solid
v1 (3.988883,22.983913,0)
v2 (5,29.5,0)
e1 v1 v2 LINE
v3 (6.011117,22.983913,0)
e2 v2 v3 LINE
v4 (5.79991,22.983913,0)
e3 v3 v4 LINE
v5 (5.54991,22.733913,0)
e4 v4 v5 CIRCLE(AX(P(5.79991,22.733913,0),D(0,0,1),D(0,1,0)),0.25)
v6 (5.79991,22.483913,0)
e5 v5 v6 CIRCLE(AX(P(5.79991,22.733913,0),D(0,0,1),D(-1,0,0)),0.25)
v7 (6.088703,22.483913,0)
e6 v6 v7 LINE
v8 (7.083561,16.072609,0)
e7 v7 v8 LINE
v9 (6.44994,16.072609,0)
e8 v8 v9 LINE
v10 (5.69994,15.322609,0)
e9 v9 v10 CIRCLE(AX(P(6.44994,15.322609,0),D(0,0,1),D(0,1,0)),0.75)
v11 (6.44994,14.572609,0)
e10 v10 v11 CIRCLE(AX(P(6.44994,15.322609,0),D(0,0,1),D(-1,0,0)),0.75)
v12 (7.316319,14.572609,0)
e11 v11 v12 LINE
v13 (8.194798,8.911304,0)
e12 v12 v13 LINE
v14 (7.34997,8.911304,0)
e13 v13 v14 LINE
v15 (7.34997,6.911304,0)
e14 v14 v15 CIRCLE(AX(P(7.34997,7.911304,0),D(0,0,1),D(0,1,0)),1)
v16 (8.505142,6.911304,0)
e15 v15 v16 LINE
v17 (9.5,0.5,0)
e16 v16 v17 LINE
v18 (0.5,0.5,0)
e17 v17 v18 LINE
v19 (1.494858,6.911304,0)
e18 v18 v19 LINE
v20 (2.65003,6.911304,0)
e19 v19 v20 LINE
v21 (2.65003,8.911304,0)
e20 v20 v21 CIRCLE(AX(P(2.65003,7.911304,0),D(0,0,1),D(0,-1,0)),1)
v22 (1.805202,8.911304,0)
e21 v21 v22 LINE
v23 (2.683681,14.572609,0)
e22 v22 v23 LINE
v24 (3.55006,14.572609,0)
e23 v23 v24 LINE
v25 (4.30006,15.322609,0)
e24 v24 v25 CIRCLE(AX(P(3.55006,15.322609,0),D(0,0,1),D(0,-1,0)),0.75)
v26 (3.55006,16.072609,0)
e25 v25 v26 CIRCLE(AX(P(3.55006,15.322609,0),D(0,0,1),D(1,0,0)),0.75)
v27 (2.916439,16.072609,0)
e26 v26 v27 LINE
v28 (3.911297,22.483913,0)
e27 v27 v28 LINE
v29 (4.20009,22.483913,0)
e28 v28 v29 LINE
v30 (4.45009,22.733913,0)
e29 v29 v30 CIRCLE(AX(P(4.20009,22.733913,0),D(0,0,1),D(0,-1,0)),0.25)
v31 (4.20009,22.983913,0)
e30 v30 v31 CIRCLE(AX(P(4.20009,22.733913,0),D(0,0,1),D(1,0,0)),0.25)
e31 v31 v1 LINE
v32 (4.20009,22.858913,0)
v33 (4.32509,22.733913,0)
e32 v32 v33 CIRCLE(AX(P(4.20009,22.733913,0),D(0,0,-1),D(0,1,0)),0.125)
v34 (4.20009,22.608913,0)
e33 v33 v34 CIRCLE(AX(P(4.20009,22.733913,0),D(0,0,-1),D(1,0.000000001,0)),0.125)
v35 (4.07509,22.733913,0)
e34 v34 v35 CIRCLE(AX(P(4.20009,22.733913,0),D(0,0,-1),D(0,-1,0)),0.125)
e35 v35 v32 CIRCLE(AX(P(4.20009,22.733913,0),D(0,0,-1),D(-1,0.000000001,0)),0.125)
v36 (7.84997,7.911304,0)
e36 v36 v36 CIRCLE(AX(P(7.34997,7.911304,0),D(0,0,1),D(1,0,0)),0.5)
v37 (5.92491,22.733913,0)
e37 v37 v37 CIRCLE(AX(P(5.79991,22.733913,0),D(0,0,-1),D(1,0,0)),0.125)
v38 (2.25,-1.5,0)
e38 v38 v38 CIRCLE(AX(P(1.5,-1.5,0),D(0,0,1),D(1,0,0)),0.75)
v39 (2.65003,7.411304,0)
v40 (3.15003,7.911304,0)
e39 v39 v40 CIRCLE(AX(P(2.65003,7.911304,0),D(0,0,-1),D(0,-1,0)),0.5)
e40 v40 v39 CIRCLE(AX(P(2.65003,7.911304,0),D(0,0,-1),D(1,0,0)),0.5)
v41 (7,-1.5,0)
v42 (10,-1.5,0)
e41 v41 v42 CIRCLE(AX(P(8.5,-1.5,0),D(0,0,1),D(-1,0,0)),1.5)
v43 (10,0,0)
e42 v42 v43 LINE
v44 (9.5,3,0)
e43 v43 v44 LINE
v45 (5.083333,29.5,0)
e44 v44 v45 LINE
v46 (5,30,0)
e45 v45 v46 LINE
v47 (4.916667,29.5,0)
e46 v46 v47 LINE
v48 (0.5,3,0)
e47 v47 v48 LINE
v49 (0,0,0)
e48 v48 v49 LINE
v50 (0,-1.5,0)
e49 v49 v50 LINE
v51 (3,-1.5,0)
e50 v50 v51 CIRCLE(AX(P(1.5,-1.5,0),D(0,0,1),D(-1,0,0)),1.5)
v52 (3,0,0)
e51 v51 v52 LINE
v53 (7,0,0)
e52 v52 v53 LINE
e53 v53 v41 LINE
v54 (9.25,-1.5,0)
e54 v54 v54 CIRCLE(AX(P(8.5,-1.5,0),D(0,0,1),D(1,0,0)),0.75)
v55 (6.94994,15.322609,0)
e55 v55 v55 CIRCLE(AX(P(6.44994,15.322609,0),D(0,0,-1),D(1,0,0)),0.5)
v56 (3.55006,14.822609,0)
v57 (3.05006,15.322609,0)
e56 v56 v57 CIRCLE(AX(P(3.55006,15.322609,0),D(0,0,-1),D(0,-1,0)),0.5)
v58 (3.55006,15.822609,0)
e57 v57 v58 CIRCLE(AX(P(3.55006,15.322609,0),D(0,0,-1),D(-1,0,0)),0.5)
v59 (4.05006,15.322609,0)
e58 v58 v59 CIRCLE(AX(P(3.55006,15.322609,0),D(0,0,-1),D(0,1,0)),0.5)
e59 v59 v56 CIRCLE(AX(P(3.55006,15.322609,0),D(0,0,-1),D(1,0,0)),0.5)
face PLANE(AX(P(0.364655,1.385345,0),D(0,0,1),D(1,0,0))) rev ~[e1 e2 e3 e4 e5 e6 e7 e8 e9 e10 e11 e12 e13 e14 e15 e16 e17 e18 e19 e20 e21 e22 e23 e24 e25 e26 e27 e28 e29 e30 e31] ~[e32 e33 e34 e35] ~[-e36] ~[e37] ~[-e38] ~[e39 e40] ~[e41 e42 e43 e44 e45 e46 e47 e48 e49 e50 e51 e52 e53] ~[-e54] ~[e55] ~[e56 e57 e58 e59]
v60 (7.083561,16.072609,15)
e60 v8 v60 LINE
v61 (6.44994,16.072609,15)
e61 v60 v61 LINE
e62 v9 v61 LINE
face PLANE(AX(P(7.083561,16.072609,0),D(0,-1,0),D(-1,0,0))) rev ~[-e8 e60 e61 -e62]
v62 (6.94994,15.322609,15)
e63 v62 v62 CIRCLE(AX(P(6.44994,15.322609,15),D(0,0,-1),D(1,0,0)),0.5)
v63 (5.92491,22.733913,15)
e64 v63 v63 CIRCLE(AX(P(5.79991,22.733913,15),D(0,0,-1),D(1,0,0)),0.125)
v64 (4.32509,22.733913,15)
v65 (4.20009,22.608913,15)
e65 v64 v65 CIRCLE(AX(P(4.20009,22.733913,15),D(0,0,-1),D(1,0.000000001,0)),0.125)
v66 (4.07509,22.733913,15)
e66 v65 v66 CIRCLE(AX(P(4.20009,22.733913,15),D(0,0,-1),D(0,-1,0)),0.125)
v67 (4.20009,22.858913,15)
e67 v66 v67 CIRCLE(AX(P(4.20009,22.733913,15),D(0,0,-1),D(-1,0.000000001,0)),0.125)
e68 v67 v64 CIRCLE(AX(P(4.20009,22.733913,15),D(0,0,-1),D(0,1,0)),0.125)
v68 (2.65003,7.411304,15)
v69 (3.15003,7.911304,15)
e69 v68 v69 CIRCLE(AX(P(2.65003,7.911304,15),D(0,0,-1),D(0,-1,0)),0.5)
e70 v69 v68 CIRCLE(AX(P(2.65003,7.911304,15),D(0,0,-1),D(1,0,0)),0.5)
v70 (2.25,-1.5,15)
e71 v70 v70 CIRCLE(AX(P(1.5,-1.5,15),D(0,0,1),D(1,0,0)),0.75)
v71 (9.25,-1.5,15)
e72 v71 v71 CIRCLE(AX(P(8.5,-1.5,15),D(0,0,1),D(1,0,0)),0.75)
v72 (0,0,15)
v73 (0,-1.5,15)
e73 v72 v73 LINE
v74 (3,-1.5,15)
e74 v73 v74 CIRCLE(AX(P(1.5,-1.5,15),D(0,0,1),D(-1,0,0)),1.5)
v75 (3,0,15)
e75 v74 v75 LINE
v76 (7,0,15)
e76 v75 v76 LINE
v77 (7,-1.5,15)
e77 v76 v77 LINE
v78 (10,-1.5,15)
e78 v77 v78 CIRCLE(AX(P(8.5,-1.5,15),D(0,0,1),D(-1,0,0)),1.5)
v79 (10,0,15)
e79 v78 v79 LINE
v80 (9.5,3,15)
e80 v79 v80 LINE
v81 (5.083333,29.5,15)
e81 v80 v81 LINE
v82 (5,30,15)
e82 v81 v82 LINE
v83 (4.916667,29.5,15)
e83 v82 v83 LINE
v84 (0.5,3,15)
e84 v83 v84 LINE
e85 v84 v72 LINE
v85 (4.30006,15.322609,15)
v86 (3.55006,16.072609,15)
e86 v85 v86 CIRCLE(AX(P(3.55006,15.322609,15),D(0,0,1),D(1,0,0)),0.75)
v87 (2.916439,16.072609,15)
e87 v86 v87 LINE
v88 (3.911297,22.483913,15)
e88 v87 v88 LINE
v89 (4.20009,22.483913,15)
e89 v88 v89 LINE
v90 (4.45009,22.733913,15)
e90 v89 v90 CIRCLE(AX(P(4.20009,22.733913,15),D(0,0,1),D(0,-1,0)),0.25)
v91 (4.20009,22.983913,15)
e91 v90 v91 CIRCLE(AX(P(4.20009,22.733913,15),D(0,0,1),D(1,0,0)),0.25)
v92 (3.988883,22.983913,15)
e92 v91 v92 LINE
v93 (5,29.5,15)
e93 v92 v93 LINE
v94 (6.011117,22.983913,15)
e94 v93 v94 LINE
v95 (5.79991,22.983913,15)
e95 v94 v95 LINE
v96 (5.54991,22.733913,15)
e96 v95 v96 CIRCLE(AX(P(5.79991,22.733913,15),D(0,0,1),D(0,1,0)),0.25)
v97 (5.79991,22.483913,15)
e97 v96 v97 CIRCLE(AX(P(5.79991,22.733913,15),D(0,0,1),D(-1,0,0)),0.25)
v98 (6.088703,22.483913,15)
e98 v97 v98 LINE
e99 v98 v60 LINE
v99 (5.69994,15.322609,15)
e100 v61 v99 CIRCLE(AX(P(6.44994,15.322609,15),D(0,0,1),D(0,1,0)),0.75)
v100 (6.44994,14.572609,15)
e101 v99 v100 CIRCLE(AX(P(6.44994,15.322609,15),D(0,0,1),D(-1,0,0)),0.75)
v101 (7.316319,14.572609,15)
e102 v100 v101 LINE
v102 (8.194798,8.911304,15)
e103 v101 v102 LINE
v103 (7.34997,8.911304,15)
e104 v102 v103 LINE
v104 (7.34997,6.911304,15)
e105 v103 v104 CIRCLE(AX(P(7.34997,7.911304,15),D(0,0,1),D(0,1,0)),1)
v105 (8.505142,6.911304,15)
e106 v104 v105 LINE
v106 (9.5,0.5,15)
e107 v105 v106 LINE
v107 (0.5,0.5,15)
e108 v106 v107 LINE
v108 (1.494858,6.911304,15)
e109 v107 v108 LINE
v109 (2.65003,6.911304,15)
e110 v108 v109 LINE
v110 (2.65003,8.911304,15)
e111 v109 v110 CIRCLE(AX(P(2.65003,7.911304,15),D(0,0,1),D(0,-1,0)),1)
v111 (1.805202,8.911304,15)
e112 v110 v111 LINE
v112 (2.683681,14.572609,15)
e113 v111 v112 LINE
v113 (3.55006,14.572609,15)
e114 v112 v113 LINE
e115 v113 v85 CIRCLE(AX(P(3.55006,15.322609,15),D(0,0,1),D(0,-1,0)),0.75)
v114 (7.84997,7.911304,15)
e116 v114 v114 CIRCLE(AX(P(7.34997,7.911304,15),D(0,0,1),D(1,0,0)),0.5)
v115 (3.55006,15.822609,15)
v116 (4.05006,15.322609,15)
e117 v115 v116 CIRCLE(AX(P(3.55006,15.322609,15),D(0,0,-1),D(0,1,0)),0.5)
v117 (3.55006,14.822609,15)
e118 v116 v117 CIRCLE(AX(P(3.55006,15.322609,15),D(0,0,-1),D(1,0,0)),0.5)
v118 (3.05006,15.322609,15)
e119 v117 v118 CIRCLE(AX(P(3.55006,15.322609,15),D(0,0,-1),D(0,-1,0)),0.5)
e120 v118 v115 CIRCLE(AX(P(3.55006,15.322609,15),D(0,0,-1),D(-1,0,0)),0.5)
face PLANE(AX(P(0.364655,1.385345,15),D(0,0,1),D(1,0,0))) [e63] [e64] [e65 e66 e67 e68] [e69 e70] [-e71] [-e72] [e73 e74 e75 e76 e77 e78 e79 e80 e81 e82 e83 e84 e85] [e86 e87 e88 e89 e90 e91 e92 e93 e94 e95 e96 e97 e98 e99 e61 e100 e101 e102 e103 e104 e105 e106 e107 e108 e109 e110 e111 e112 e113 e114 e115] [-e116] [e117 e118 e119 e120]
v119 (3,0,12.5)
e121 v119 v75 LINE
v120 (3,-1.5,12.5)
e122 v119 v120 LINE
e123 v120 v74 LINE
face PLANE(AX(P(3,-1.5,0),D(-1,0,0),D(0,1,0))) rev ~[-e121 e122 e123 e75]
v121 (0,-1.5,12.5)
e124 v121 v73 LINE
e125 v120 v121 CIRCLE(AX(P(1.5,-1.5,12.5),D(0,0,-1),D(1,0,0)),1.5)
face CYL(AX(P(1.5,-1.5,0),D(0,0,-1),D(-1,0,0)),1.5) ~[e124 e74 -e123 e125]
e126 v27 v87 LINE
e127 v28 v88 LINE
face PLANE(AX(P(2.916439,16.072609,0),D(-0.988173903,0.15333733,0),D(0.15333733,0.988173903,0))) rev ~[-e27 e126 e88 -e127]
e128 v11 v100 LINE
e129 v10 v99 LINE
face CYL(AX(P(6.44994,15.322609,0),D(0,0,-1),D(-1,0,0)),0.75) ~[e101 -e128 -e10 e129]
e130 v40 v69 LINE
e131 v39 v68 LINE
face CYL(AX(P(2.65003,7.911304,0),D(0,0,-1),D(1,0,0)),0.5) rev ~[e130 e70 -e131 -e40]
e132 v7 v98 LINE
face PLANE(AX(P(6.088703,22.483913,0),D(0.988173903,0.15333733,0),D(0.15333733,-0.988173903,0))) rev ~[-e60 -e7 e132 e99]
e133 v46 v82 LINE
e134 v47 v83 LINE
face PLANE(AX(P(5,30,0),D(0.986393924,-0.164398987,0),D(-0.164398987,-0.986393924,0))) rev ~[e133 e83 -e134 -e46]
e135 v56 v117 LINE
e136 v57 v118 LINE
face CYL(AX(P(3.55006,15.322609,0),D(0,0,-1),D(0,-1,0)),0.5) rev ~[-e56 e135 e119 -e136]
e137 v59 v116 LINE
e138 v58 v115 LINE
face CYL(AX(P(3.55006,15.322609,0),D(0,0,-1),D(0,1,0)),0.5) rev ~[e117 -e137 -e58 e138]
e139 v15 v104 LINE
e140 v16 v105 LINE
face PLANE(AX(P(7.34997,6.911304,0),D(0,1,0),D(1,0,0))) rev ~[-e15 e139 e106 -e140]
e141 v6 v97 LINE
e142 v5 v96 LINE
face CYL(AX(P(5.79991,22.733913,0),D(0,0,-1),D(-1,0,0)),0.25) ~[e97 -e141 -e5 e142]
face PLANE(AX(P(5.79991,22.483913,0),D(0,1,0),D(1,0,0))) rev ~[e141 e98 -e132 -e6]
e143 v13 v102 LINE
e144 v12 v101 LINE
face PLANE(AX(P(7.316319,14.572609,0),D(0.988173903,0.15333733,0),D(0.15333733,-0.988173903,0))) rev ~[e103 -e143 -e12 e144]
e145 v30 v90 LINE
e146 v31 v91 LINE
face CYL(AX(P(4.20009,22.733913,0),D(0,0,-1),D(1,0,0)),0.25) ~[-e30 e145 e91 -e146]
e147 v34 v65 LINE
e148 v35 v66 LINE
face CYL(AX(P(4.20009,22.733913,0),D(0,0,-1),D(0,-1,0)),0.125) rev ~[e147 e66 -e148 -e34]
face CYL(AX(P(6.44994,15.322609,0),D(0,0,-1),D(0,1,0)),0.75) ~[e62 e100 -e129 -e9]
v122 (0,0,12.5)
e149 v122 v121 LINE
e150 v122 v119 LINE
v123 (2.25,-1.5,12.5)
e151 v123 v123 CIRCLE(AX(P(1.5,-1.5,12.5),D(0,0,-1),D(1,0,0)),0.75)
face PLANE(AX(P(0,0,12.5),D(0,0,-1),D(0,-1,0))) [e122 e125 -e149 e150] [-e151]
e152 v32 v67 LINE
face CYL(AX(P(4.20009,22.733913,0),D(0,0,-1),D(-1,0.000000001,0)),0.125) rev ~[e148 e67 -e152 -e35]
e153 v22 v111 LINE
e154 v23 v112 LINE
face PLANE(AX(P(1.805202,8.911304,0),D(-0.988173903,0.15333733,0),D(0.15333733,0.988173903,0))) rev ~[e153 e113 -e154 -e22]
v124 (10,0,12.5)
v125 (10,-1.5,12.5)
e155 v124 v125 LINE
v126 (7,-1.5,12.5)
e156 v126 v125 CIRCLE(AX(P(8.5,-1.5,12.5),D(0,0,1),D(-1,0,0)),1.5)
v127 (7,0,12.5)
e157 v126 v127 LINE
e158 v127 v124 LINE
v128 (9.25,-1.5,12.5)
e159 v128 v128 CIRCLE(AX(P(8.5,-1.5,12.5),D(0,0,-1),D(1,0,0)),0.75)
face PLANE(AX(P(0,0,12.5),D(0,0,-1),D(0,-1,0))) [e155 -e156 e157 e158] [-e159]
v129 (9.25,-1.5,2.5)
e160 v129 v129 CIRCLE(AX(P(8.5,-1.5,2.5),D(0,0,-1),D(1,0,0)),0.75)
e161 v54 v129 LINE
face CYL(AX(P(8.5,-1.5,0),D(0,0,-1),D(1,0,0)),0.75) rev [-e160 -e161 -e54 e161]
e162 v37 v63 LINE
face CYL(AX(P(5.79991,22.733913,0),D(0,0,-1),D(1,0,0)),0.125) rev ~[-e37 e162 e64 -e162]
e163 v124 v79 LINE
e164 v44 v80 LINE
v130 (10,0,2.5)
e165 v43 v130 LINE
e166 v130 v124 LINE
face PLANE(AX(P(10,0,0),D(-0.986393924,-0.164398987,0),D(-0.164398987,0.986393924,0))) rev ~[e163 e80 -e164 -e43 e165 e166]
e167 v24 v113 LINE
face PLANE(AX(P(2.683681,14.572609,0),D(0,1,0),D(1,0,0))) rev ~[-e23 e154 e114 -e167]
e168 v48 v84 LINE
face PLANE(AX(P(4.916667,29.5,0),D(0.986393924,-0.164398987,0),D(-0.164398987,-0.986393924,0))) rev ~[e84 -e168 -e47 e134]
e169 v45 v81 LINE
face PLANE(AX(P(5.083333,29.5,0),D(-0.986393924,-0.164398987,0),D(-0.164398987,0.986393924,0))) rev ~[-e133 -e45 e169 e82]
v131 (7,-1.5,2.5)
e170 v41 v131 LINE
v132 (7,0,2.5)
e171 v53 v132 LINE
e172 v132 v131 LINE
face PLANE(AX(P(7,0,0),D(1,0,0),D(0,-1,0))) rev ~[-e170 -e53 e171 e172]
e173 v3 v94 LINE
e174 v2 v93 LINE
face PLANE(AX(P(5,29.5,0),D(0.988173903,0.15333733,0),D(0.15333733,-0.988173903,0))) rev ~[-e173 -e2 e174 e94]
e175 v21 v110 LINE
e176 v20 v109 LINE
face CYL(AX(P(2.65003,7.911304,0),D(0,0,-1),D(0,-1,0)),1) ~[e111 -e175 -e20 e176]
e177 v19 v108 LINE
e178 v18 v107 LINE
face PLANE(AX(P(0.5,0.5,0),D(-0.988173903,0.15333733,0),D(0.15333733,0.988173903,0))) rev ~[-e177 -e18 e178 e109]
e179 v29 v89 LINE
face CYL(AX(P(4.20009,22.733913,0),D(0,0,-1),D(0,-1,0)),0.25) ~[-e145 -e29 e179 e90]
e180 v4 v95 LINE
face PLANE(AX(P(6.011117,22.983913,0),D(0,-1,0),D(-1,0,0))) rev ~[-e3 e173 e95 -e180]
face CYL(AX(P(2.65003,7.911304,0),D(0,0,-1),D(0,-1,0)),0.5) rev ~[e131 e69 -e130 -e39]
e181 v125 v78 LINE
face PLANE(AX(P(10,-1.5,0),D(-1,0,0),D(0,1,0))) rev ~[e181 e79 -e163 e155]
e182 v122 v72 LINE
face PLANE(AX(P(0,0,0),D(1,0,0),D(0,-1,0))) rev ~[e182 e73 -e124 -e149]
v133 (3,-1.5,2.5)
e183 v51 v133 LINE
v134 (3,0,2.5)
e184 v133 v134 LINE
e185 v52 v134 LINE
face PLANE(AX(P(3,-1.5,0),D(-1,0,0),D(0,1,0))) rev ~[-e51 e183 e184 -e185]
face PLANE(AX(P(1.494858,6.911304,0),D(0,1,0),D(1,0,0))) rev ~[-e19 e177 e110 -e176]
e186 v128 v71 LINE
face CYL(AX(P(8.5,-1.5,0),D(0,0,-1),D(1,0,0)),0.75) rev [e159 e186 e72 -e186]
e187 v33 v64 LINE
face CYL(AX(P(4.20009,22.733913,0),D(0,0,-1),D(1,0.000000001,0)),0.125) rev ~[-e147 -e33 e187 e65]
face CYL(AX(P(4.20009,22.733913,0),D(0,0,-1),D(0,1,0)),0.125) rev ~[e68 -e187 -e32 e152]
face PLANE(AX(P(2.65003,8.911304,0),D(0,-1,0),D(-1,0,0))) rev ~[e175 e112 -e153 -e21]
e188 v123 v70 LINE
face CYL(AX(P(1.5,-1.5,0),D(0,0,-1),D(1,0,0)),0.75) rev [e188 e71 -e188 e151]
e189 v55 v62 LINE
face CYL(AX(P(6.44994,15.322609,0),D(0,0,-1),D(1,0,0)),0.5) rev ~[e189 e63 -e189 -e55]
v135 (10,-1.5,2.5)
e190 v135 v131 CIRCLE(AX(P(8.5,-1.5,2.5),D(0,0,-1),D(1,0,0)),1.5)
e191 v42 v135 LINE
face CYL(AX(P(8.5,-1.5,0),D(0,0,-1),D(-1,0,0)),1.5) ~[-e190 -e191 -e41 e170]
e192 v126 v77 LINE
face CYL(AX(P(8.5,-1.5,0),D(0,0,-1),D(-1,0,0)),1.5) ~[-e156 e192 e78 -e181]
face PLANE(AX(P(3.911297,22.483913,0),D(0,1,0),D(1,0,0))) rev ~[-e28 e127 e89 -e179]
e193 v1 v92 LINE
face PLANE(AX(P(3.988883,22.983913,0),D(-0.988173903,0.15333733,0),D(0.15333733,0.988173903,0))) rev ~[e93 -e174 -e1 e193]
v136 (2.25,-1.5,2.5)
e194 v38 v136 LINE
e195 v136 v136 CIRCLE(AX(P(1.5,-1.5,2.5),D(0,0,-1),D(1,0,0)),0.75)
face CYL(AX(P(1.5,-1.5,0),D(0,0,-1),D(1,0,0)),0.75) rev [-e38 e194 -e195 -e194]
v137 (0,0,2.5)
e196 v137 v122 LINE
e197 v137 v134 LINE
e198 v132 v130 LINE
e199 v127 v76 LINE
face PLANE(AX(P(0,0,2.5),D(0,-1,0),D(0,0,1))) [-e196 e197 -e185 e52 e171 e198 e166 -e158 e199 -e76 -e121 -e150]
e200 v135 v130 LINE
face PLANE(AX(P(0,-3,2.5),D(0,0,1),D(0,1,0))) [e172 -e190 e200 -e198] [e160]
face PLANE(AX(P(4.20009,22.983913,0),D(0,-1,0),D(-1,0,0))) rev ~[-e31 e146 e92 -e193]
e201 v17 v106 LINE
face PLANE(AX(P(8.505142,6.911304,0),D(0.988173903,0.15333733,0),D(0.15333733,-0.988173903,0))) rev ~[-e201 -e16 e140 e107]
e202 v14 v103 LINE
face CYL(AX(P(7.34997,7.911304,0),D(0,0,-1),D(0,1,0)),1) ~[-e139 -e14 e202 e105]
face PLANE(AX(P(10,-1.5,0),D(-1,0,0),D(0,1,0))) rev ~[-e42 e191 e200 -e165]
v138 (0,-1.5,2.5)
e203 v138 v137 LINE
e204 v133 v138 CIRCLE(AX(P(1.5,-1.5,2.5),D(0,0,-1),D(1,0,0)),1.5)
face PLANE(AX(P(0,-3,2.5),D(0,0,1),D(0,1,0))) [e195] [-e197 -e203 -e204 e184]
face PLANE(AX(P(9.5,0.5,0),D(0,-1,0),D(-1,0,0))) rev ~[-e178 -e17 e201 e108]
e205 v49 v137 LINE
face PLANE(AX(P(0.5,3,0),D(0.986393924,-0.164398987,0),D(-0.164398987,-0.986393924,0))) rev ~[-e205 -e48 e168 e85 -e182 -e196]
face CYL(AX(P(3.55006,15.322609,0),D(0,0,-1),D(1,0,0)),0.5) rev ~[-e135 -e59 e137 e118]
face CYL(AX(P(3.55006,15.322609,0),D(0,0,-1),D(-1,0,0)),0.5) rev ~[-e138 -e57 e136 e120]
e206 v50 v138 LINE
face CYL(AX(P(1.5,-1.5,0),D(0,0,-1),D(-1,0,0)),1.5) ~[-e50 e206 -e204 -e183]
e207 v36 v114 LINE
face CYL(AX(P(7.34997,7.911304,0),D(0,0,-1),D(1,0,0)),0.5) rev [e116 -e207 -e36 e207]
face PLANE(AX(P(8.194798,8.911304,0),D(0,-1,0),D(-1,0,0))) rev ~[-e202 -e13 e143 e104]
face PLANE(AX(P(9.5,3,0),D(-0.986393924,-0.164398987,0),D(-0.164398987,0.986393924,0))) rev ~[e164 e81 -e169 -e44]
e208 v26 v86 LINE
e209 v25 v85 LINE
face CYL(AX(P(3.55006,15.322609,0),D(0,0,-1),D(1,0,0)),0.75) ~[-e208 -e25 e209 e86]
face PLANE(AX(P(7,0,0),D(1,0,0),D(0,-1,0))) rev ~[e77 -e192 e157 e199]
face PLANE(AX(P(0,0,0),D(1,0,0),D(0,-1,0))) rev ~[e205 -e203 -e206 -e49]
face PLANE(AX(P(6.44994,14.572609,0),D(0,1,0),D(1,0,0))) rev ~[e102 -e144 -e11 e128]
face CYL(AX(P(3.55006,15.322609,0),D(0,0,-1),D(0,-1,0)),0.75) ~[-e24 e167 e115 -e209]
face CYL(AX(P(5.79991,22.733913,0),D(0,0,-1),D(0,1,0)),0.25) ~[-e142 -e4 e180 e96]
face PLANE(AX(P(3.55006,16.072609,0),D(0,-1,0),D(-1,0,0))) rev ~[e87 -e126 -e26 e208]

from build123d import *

# Parameters (mm, degrees)
F0_R     = 0.75
F0_R_2   = 0.5
F2_DEPTH = 15
F3_DEPTH = 10


with BuildPart() as f2:
    # F0 (on Top) → F2 (new body)
    with BuildSketch(Plane.XY):
        Polygon((0.5, 3), (0, 0), (0.5, 0), (0.5, 0.5), align=None)
        with BuildLine():
            Line((0.5, 0), (0, 0))
            Line((0, 0), (0, -1.5))
            ThreePointArc((0, -1.5), (1.5, -3), (3, -1.5))
            Line((3, -1.5), (3, 0))
            Line((3, 0), (1.5, 0))
            Line((1.5, 0), (1.4034414795, 0))
            Line((1.4034414795, 0), (0.5, 0))
        make_face()
        with Locations((1.5, -1.5)):
            Circle(F0_R, mode=Mode.SUBTRACT)
        Polygon((0.5, 0.5), (0.5, 0), (1.4034414795, 0), (1.5, 0), (3, 0), (7, 0), (8.5, 0), (9.5, 0), (9.5, 0.5), align=None)
        Polygon((4.9166666667, 29.5), (0.5, 3), (0.5, 0.5), (1.4948575599, 6.9113042752), (1.6500299737, 7.9113042752), (1.8052023875, 8.9113042752), (2.6836806371, 14.5726085504), (2.8000599475, 15.3226085504), (2.9164392578, 16.0726085504), (3.9112968178, 22.4839128256), (3.9500899212, 22.7339128256), (3.9888830247, 22.9839128256), (5, 29.5), align=None)
        Polygon((5, 30), (4.9166666667, 29.5), (5, 29.5), (5.0833333333, 29.5), align=None)
        Polygon((9.5, 3), (9.5, 0.5), (9.5, 0), (10, 0), align=None)
        Polygon((8.5051424401, 6.9113042752), (9.5, 0.5), (9.5, 3), (5.0833333333, 29.5), (5, 29.5), (6.0111169753, 22.9839128256), (6.0499100788, 22.7339128256), (6.0887031822, 22.4839128256), (7.0835607422, 16.0726085504), (7.1999400525, 15.3226085504), (7.3163193629, 14.5726085504), (8.1947976125, 8.9113042752), align=None)
        with BuildLine():
            Line((10, 0), (9.5, 0))
            Line((9.5, 0), (8.5, 0))
            Line((8.5, 0), (7, 0))
            Line((7, 0), (7, -1.5))
            ThreePointArc((7, -1.5), (8.5, -3), (10, -1.5))
            Line((10, -1.5), (10, 0))
        make_face()
        with Locations((8.5, -1.5)):
            Circle(F0_R, mode=Mode.SUBTRACT)
        with BuildLine():
            Line((1.6500299737, 7.9113042752), (1.4948575599, 6.9113042752))
            Line((1.4948575599, 6.9113042752), (2.6500299737, 6.9113042752))
            ThreePointArc((2.6500299737, 6.9113042752), (3.6500299737, 7.9113042752), (2.6500299737, 8.9113042752))
            Line((2.6500299737, 8.9113042752), (1.8052023875, 8.9113042752))
            Line((1.8052023875, 8.9113042752), (1.6500299737, 7.9113042752))
        make_face()
        with BuildLine():
            ThreePointArc((2.6500299737, 7.4113042752), (2.2964765831, 8.2648576658), (3.1500299737, 7.9113042752))
            ThreePointArc((3.1500299737, 7.9113042752), (3.0035833643, 7.5577508846), (2.6500299737, 7.4113042752))
        make_face(mode=Mode.SUBTRACT)
        with BuildLine():
            Line((7.3499700263, 6.9113042752), (8.5051424401, 6.9113042752))
            Line((8.5051424401, 6.9113042752), (8.1947976125, 8.9113042752))
            Line((8.1947976125, 8.9113042752), (7.3499700263, 8.9113042752))
            ThreePointArc((7.3499700263, 8.9113042752), (6.3499700263, 7.9113042752), (7.3499700263, 6.9113042752))
        make_face()
        with Locations((7.3499700263, 7.9113042752)):
            Circle(F0_R_2, mode=Mode.SUBTRACT)
        with BuildLine():
            Line((2.8000599475, 15.3226085504), (2.6836806371, 14.5726085504))
            Line((2.6836806371, 14.5726085504), (3.5500599475, 14.5726085504))
            Line((3.5500599475, 14.5726085504), (3.5500599475, 14.8226085504))
            ThreePointArc((3.5500599475, 14.8226085504), (3.1965065569, 14.9690551598), (3.0500599475, 15.3226085504))
            Line((3.0500599475, 15.3226085504), (2.8000599475, 15.3226085504))
        make_face()
        with BuildLine():
            Line((3.5500599475, 14.8226085504), (3.5500599475, 14.5726085504))
            ThreePointArc((3.5500599475, 14.5726085504), (4.0803900334, 14.7922784645), (4.3000599475, 15.3226085504))
            Line((4.3000599475, 15.3226085504), (4.0500599475, 15.3226085504))
            ThreePointArc((4.0500599475, 15.3226085504), (3.9036133381, 14.9690551598), (3.5500599475, 14.8226085504))
        make_face()
        with BuildLine():
            Line((4.0500599475, 15.3226085504), (4.3000599475, 15.3226085504))
            ThreePointArc((4.3000599475, 15.3226085504), (4.0803900334, 15.8529386363), (3.5500599475, 16.0726085504))
            Line((3.5500599475, 16.0726085504), (3.5500599475, 15.8226085504))
            ThreePointArc((3.5500599475, 15.8226085504), (3.9036133381, 15.676161941), (4.0500599475, 15.3226085504))
        make_face()
        with BuildLine():
            Line((2.9164392578, 16.0726085504), (2.8000599475, 15.3226085504))
            Line((2.8000599475, 15.3226085504), (3.0500599475, 15.3226085504))
            ThreePointArc((3.0500599475, 15.3226085504), (3.1965065569, 15.676161941), (3.5500599475, 15.8226085504))
            Line((3.5500599475, 15.8226085504), (3.5500599475, 16.0726085504))
            Line((3.5500599475, 16.0726085504), (2.9164392578, 16.0726085504))
        make_face()
        with BuildLine():
            Line((6.9499400525, 15.3226085504), (7.1999400525, 15.3226085504))
            Line((7.1999400525, 15.3226085504), (7.0835607422, 16.0726085504))
            Line((7.0835607422, 16.0726085504), (6.4499400525, 16.0726085504))
            ThreePointArc((6.4499400525, 16.0726085504), (5.9196099666, 15.8529386363), (5.6999400525, 15.3226085504))
            Line((5.6999400525, 15.3226085504), (5.9499400525, 15.3226085504))
            ThreePointArc((5.9499400525, 15.3226085504), (6.4499400525, 15.8226085504), (6.9499400525, 15.3226085504))
        make_face()
        with BuildLine():
            Line((6.4499400525, 14.5726085504), (7.3163193629, 14.5726085504))
            Line((7.3163193629, 14.5726085504), (7.1999400525, 15.3226085504))
            Line((7.1999400525, 15.3226085504), (6.9499400525, 15.3226085504))
            ThreePointArc((6.9499400525, 15.3226085504), (6.4499400525, 14.8226085504), (5.9499400525, 15.3226085504))
            Line((5.9499400525, 15.3226085504), (5.6999400525, 15.3226085504))
            ThreePointArc((5.6999400525, 15.3226085504), (5.9196099666, 14.7922784645), (6.4499400525, 14.5726085504))
        make_face()
        with BuildLine():
            Line((4.0750899212, 22.7339128256), (3.9500899212, 22.7339128256))
            Line((3.9500899212, 22.7339128256), (3.9112968178, 22.4839128256))
            Line((3.9112968178, 22.4839128256), (4.2000899212, 22.4839128256))
            Line((4.2000899212, 22.4839128256), (4.2000899212, 22.6089128256))
            ThreePointArc((4.2000899212, 22.6089128256), (4.1117015736, 22.6455244779), (4.0750899212, 22.7339128256))
        make_face()
        with BuildLine():
            ThreePointArc((4.2000899212, 22.4839128256), (4.3768666165, 22.5571361303), (4.4500899212, 22.7339128256))
            Line((4.4500899212, 22.7339128256), (4.3250899212, 22.7339128256))
            ThreePointArc((4.3250899212, 22.7339128256), (4.2884782689, 22.6455244779), (4.2000899212, 22.6089128256))
            Line((4.2000899212, 22.6089128256), (4.2000899212, 22.4839128256))
        make_face()
        with BuildLine():
            ThreePointArc((4.4500899212, 22.7339128256), (4.3768666165, 22.9106895209), (4.2000899212, 22.9839128256))
            Line((4.2000899212, 22.9839128256), (4.2000899212, 22.8589128256))
            ThreePointArc((4.2000899212, 22.8589128256), (4.2884782689, 22.8223011732), (4.3250899212, 22.7339128256))
            Line((4.3250899212, 22.7339128256), (4.4500899212, 22.7339128256))
        make_face()
        with BuildLine():
            Line((4.2000899212, 22.9839128256), (3.9888830247, 22.9839128256))
            Line((3.9888830247, 22.9839128256), (3.9500899212, 22.7339128256))
            Line((3.9500899212, 22.7339128256), (4.0750899212, 22.7339128256))
            ThreePointArc((4.0750899212, 22.7339128256), (4.1117015736, 22.8223011732), (4.2000899212, 22.8589128256))
            Line((4.2000899212, 22.8589128256), (4.2000899212, 22.9839128256))
        make_face()
        with BuildLine():
            Line((6.0499100788, 22.7339128256), (6.0111169753, 22.9839128256))
            Line((6.0111169753, 22.9839128256), (5.7999100788, 22.9839128256))
            ThreePointArc((5.7999100788, 22.9839128256), (5.6231333835, 22.9106895209), (5.5499100788, 22.7339128256))
            Line((5.5499100788, 22.7339128256), (5.6749100788, 22.7339128256))
            ThreePointArc((5.6749100788, 22.7339128256), (5.7999100788, 22.8589128256), (5.9249100788, 22.7339128256))
            Line((5.9249100788, 22.7339128256), (6.0499100788, 22.7339128256))
        make_face()
        with BuildLine():
            Line((6.0887031822, 22.4839128256), (6.0499100788, 22.7339128256))
            Line((6.0499100788, 22.7339128256), (5.9249100788, 22.7339128256))
            ThreePointArc((5.9249100788, 22.7339128256), (5.7999100788, 22.6089128256), (5.6749100788, 22.7339128256))
            Line((5.6749100788, 22.7339128256), (5.5499100788, 22.7339128256))
            ThreePointArc((5.5499100788, 22.7339128256), (5.6231333835, 22.5571361303), (5.7999100788, 22.4839128256))
            Line((5.7999100788, 22.4839128256), (6.0887031822, 22.4839128256))
        make_face()
    extrude(amount=F2_DEPTH)

    # F1 (on Right) → F3 (cut)
    with BuildSketch(Plane.YZ):
        Polygon((-3, 2.5), (0, 2.5), (0, 7.5), (0, 12.5), (-3, 12.5), align=None)
    extrude(amount=F3_DEPTH, mode=Mode.SUBTRACT)


solid = f2.part
